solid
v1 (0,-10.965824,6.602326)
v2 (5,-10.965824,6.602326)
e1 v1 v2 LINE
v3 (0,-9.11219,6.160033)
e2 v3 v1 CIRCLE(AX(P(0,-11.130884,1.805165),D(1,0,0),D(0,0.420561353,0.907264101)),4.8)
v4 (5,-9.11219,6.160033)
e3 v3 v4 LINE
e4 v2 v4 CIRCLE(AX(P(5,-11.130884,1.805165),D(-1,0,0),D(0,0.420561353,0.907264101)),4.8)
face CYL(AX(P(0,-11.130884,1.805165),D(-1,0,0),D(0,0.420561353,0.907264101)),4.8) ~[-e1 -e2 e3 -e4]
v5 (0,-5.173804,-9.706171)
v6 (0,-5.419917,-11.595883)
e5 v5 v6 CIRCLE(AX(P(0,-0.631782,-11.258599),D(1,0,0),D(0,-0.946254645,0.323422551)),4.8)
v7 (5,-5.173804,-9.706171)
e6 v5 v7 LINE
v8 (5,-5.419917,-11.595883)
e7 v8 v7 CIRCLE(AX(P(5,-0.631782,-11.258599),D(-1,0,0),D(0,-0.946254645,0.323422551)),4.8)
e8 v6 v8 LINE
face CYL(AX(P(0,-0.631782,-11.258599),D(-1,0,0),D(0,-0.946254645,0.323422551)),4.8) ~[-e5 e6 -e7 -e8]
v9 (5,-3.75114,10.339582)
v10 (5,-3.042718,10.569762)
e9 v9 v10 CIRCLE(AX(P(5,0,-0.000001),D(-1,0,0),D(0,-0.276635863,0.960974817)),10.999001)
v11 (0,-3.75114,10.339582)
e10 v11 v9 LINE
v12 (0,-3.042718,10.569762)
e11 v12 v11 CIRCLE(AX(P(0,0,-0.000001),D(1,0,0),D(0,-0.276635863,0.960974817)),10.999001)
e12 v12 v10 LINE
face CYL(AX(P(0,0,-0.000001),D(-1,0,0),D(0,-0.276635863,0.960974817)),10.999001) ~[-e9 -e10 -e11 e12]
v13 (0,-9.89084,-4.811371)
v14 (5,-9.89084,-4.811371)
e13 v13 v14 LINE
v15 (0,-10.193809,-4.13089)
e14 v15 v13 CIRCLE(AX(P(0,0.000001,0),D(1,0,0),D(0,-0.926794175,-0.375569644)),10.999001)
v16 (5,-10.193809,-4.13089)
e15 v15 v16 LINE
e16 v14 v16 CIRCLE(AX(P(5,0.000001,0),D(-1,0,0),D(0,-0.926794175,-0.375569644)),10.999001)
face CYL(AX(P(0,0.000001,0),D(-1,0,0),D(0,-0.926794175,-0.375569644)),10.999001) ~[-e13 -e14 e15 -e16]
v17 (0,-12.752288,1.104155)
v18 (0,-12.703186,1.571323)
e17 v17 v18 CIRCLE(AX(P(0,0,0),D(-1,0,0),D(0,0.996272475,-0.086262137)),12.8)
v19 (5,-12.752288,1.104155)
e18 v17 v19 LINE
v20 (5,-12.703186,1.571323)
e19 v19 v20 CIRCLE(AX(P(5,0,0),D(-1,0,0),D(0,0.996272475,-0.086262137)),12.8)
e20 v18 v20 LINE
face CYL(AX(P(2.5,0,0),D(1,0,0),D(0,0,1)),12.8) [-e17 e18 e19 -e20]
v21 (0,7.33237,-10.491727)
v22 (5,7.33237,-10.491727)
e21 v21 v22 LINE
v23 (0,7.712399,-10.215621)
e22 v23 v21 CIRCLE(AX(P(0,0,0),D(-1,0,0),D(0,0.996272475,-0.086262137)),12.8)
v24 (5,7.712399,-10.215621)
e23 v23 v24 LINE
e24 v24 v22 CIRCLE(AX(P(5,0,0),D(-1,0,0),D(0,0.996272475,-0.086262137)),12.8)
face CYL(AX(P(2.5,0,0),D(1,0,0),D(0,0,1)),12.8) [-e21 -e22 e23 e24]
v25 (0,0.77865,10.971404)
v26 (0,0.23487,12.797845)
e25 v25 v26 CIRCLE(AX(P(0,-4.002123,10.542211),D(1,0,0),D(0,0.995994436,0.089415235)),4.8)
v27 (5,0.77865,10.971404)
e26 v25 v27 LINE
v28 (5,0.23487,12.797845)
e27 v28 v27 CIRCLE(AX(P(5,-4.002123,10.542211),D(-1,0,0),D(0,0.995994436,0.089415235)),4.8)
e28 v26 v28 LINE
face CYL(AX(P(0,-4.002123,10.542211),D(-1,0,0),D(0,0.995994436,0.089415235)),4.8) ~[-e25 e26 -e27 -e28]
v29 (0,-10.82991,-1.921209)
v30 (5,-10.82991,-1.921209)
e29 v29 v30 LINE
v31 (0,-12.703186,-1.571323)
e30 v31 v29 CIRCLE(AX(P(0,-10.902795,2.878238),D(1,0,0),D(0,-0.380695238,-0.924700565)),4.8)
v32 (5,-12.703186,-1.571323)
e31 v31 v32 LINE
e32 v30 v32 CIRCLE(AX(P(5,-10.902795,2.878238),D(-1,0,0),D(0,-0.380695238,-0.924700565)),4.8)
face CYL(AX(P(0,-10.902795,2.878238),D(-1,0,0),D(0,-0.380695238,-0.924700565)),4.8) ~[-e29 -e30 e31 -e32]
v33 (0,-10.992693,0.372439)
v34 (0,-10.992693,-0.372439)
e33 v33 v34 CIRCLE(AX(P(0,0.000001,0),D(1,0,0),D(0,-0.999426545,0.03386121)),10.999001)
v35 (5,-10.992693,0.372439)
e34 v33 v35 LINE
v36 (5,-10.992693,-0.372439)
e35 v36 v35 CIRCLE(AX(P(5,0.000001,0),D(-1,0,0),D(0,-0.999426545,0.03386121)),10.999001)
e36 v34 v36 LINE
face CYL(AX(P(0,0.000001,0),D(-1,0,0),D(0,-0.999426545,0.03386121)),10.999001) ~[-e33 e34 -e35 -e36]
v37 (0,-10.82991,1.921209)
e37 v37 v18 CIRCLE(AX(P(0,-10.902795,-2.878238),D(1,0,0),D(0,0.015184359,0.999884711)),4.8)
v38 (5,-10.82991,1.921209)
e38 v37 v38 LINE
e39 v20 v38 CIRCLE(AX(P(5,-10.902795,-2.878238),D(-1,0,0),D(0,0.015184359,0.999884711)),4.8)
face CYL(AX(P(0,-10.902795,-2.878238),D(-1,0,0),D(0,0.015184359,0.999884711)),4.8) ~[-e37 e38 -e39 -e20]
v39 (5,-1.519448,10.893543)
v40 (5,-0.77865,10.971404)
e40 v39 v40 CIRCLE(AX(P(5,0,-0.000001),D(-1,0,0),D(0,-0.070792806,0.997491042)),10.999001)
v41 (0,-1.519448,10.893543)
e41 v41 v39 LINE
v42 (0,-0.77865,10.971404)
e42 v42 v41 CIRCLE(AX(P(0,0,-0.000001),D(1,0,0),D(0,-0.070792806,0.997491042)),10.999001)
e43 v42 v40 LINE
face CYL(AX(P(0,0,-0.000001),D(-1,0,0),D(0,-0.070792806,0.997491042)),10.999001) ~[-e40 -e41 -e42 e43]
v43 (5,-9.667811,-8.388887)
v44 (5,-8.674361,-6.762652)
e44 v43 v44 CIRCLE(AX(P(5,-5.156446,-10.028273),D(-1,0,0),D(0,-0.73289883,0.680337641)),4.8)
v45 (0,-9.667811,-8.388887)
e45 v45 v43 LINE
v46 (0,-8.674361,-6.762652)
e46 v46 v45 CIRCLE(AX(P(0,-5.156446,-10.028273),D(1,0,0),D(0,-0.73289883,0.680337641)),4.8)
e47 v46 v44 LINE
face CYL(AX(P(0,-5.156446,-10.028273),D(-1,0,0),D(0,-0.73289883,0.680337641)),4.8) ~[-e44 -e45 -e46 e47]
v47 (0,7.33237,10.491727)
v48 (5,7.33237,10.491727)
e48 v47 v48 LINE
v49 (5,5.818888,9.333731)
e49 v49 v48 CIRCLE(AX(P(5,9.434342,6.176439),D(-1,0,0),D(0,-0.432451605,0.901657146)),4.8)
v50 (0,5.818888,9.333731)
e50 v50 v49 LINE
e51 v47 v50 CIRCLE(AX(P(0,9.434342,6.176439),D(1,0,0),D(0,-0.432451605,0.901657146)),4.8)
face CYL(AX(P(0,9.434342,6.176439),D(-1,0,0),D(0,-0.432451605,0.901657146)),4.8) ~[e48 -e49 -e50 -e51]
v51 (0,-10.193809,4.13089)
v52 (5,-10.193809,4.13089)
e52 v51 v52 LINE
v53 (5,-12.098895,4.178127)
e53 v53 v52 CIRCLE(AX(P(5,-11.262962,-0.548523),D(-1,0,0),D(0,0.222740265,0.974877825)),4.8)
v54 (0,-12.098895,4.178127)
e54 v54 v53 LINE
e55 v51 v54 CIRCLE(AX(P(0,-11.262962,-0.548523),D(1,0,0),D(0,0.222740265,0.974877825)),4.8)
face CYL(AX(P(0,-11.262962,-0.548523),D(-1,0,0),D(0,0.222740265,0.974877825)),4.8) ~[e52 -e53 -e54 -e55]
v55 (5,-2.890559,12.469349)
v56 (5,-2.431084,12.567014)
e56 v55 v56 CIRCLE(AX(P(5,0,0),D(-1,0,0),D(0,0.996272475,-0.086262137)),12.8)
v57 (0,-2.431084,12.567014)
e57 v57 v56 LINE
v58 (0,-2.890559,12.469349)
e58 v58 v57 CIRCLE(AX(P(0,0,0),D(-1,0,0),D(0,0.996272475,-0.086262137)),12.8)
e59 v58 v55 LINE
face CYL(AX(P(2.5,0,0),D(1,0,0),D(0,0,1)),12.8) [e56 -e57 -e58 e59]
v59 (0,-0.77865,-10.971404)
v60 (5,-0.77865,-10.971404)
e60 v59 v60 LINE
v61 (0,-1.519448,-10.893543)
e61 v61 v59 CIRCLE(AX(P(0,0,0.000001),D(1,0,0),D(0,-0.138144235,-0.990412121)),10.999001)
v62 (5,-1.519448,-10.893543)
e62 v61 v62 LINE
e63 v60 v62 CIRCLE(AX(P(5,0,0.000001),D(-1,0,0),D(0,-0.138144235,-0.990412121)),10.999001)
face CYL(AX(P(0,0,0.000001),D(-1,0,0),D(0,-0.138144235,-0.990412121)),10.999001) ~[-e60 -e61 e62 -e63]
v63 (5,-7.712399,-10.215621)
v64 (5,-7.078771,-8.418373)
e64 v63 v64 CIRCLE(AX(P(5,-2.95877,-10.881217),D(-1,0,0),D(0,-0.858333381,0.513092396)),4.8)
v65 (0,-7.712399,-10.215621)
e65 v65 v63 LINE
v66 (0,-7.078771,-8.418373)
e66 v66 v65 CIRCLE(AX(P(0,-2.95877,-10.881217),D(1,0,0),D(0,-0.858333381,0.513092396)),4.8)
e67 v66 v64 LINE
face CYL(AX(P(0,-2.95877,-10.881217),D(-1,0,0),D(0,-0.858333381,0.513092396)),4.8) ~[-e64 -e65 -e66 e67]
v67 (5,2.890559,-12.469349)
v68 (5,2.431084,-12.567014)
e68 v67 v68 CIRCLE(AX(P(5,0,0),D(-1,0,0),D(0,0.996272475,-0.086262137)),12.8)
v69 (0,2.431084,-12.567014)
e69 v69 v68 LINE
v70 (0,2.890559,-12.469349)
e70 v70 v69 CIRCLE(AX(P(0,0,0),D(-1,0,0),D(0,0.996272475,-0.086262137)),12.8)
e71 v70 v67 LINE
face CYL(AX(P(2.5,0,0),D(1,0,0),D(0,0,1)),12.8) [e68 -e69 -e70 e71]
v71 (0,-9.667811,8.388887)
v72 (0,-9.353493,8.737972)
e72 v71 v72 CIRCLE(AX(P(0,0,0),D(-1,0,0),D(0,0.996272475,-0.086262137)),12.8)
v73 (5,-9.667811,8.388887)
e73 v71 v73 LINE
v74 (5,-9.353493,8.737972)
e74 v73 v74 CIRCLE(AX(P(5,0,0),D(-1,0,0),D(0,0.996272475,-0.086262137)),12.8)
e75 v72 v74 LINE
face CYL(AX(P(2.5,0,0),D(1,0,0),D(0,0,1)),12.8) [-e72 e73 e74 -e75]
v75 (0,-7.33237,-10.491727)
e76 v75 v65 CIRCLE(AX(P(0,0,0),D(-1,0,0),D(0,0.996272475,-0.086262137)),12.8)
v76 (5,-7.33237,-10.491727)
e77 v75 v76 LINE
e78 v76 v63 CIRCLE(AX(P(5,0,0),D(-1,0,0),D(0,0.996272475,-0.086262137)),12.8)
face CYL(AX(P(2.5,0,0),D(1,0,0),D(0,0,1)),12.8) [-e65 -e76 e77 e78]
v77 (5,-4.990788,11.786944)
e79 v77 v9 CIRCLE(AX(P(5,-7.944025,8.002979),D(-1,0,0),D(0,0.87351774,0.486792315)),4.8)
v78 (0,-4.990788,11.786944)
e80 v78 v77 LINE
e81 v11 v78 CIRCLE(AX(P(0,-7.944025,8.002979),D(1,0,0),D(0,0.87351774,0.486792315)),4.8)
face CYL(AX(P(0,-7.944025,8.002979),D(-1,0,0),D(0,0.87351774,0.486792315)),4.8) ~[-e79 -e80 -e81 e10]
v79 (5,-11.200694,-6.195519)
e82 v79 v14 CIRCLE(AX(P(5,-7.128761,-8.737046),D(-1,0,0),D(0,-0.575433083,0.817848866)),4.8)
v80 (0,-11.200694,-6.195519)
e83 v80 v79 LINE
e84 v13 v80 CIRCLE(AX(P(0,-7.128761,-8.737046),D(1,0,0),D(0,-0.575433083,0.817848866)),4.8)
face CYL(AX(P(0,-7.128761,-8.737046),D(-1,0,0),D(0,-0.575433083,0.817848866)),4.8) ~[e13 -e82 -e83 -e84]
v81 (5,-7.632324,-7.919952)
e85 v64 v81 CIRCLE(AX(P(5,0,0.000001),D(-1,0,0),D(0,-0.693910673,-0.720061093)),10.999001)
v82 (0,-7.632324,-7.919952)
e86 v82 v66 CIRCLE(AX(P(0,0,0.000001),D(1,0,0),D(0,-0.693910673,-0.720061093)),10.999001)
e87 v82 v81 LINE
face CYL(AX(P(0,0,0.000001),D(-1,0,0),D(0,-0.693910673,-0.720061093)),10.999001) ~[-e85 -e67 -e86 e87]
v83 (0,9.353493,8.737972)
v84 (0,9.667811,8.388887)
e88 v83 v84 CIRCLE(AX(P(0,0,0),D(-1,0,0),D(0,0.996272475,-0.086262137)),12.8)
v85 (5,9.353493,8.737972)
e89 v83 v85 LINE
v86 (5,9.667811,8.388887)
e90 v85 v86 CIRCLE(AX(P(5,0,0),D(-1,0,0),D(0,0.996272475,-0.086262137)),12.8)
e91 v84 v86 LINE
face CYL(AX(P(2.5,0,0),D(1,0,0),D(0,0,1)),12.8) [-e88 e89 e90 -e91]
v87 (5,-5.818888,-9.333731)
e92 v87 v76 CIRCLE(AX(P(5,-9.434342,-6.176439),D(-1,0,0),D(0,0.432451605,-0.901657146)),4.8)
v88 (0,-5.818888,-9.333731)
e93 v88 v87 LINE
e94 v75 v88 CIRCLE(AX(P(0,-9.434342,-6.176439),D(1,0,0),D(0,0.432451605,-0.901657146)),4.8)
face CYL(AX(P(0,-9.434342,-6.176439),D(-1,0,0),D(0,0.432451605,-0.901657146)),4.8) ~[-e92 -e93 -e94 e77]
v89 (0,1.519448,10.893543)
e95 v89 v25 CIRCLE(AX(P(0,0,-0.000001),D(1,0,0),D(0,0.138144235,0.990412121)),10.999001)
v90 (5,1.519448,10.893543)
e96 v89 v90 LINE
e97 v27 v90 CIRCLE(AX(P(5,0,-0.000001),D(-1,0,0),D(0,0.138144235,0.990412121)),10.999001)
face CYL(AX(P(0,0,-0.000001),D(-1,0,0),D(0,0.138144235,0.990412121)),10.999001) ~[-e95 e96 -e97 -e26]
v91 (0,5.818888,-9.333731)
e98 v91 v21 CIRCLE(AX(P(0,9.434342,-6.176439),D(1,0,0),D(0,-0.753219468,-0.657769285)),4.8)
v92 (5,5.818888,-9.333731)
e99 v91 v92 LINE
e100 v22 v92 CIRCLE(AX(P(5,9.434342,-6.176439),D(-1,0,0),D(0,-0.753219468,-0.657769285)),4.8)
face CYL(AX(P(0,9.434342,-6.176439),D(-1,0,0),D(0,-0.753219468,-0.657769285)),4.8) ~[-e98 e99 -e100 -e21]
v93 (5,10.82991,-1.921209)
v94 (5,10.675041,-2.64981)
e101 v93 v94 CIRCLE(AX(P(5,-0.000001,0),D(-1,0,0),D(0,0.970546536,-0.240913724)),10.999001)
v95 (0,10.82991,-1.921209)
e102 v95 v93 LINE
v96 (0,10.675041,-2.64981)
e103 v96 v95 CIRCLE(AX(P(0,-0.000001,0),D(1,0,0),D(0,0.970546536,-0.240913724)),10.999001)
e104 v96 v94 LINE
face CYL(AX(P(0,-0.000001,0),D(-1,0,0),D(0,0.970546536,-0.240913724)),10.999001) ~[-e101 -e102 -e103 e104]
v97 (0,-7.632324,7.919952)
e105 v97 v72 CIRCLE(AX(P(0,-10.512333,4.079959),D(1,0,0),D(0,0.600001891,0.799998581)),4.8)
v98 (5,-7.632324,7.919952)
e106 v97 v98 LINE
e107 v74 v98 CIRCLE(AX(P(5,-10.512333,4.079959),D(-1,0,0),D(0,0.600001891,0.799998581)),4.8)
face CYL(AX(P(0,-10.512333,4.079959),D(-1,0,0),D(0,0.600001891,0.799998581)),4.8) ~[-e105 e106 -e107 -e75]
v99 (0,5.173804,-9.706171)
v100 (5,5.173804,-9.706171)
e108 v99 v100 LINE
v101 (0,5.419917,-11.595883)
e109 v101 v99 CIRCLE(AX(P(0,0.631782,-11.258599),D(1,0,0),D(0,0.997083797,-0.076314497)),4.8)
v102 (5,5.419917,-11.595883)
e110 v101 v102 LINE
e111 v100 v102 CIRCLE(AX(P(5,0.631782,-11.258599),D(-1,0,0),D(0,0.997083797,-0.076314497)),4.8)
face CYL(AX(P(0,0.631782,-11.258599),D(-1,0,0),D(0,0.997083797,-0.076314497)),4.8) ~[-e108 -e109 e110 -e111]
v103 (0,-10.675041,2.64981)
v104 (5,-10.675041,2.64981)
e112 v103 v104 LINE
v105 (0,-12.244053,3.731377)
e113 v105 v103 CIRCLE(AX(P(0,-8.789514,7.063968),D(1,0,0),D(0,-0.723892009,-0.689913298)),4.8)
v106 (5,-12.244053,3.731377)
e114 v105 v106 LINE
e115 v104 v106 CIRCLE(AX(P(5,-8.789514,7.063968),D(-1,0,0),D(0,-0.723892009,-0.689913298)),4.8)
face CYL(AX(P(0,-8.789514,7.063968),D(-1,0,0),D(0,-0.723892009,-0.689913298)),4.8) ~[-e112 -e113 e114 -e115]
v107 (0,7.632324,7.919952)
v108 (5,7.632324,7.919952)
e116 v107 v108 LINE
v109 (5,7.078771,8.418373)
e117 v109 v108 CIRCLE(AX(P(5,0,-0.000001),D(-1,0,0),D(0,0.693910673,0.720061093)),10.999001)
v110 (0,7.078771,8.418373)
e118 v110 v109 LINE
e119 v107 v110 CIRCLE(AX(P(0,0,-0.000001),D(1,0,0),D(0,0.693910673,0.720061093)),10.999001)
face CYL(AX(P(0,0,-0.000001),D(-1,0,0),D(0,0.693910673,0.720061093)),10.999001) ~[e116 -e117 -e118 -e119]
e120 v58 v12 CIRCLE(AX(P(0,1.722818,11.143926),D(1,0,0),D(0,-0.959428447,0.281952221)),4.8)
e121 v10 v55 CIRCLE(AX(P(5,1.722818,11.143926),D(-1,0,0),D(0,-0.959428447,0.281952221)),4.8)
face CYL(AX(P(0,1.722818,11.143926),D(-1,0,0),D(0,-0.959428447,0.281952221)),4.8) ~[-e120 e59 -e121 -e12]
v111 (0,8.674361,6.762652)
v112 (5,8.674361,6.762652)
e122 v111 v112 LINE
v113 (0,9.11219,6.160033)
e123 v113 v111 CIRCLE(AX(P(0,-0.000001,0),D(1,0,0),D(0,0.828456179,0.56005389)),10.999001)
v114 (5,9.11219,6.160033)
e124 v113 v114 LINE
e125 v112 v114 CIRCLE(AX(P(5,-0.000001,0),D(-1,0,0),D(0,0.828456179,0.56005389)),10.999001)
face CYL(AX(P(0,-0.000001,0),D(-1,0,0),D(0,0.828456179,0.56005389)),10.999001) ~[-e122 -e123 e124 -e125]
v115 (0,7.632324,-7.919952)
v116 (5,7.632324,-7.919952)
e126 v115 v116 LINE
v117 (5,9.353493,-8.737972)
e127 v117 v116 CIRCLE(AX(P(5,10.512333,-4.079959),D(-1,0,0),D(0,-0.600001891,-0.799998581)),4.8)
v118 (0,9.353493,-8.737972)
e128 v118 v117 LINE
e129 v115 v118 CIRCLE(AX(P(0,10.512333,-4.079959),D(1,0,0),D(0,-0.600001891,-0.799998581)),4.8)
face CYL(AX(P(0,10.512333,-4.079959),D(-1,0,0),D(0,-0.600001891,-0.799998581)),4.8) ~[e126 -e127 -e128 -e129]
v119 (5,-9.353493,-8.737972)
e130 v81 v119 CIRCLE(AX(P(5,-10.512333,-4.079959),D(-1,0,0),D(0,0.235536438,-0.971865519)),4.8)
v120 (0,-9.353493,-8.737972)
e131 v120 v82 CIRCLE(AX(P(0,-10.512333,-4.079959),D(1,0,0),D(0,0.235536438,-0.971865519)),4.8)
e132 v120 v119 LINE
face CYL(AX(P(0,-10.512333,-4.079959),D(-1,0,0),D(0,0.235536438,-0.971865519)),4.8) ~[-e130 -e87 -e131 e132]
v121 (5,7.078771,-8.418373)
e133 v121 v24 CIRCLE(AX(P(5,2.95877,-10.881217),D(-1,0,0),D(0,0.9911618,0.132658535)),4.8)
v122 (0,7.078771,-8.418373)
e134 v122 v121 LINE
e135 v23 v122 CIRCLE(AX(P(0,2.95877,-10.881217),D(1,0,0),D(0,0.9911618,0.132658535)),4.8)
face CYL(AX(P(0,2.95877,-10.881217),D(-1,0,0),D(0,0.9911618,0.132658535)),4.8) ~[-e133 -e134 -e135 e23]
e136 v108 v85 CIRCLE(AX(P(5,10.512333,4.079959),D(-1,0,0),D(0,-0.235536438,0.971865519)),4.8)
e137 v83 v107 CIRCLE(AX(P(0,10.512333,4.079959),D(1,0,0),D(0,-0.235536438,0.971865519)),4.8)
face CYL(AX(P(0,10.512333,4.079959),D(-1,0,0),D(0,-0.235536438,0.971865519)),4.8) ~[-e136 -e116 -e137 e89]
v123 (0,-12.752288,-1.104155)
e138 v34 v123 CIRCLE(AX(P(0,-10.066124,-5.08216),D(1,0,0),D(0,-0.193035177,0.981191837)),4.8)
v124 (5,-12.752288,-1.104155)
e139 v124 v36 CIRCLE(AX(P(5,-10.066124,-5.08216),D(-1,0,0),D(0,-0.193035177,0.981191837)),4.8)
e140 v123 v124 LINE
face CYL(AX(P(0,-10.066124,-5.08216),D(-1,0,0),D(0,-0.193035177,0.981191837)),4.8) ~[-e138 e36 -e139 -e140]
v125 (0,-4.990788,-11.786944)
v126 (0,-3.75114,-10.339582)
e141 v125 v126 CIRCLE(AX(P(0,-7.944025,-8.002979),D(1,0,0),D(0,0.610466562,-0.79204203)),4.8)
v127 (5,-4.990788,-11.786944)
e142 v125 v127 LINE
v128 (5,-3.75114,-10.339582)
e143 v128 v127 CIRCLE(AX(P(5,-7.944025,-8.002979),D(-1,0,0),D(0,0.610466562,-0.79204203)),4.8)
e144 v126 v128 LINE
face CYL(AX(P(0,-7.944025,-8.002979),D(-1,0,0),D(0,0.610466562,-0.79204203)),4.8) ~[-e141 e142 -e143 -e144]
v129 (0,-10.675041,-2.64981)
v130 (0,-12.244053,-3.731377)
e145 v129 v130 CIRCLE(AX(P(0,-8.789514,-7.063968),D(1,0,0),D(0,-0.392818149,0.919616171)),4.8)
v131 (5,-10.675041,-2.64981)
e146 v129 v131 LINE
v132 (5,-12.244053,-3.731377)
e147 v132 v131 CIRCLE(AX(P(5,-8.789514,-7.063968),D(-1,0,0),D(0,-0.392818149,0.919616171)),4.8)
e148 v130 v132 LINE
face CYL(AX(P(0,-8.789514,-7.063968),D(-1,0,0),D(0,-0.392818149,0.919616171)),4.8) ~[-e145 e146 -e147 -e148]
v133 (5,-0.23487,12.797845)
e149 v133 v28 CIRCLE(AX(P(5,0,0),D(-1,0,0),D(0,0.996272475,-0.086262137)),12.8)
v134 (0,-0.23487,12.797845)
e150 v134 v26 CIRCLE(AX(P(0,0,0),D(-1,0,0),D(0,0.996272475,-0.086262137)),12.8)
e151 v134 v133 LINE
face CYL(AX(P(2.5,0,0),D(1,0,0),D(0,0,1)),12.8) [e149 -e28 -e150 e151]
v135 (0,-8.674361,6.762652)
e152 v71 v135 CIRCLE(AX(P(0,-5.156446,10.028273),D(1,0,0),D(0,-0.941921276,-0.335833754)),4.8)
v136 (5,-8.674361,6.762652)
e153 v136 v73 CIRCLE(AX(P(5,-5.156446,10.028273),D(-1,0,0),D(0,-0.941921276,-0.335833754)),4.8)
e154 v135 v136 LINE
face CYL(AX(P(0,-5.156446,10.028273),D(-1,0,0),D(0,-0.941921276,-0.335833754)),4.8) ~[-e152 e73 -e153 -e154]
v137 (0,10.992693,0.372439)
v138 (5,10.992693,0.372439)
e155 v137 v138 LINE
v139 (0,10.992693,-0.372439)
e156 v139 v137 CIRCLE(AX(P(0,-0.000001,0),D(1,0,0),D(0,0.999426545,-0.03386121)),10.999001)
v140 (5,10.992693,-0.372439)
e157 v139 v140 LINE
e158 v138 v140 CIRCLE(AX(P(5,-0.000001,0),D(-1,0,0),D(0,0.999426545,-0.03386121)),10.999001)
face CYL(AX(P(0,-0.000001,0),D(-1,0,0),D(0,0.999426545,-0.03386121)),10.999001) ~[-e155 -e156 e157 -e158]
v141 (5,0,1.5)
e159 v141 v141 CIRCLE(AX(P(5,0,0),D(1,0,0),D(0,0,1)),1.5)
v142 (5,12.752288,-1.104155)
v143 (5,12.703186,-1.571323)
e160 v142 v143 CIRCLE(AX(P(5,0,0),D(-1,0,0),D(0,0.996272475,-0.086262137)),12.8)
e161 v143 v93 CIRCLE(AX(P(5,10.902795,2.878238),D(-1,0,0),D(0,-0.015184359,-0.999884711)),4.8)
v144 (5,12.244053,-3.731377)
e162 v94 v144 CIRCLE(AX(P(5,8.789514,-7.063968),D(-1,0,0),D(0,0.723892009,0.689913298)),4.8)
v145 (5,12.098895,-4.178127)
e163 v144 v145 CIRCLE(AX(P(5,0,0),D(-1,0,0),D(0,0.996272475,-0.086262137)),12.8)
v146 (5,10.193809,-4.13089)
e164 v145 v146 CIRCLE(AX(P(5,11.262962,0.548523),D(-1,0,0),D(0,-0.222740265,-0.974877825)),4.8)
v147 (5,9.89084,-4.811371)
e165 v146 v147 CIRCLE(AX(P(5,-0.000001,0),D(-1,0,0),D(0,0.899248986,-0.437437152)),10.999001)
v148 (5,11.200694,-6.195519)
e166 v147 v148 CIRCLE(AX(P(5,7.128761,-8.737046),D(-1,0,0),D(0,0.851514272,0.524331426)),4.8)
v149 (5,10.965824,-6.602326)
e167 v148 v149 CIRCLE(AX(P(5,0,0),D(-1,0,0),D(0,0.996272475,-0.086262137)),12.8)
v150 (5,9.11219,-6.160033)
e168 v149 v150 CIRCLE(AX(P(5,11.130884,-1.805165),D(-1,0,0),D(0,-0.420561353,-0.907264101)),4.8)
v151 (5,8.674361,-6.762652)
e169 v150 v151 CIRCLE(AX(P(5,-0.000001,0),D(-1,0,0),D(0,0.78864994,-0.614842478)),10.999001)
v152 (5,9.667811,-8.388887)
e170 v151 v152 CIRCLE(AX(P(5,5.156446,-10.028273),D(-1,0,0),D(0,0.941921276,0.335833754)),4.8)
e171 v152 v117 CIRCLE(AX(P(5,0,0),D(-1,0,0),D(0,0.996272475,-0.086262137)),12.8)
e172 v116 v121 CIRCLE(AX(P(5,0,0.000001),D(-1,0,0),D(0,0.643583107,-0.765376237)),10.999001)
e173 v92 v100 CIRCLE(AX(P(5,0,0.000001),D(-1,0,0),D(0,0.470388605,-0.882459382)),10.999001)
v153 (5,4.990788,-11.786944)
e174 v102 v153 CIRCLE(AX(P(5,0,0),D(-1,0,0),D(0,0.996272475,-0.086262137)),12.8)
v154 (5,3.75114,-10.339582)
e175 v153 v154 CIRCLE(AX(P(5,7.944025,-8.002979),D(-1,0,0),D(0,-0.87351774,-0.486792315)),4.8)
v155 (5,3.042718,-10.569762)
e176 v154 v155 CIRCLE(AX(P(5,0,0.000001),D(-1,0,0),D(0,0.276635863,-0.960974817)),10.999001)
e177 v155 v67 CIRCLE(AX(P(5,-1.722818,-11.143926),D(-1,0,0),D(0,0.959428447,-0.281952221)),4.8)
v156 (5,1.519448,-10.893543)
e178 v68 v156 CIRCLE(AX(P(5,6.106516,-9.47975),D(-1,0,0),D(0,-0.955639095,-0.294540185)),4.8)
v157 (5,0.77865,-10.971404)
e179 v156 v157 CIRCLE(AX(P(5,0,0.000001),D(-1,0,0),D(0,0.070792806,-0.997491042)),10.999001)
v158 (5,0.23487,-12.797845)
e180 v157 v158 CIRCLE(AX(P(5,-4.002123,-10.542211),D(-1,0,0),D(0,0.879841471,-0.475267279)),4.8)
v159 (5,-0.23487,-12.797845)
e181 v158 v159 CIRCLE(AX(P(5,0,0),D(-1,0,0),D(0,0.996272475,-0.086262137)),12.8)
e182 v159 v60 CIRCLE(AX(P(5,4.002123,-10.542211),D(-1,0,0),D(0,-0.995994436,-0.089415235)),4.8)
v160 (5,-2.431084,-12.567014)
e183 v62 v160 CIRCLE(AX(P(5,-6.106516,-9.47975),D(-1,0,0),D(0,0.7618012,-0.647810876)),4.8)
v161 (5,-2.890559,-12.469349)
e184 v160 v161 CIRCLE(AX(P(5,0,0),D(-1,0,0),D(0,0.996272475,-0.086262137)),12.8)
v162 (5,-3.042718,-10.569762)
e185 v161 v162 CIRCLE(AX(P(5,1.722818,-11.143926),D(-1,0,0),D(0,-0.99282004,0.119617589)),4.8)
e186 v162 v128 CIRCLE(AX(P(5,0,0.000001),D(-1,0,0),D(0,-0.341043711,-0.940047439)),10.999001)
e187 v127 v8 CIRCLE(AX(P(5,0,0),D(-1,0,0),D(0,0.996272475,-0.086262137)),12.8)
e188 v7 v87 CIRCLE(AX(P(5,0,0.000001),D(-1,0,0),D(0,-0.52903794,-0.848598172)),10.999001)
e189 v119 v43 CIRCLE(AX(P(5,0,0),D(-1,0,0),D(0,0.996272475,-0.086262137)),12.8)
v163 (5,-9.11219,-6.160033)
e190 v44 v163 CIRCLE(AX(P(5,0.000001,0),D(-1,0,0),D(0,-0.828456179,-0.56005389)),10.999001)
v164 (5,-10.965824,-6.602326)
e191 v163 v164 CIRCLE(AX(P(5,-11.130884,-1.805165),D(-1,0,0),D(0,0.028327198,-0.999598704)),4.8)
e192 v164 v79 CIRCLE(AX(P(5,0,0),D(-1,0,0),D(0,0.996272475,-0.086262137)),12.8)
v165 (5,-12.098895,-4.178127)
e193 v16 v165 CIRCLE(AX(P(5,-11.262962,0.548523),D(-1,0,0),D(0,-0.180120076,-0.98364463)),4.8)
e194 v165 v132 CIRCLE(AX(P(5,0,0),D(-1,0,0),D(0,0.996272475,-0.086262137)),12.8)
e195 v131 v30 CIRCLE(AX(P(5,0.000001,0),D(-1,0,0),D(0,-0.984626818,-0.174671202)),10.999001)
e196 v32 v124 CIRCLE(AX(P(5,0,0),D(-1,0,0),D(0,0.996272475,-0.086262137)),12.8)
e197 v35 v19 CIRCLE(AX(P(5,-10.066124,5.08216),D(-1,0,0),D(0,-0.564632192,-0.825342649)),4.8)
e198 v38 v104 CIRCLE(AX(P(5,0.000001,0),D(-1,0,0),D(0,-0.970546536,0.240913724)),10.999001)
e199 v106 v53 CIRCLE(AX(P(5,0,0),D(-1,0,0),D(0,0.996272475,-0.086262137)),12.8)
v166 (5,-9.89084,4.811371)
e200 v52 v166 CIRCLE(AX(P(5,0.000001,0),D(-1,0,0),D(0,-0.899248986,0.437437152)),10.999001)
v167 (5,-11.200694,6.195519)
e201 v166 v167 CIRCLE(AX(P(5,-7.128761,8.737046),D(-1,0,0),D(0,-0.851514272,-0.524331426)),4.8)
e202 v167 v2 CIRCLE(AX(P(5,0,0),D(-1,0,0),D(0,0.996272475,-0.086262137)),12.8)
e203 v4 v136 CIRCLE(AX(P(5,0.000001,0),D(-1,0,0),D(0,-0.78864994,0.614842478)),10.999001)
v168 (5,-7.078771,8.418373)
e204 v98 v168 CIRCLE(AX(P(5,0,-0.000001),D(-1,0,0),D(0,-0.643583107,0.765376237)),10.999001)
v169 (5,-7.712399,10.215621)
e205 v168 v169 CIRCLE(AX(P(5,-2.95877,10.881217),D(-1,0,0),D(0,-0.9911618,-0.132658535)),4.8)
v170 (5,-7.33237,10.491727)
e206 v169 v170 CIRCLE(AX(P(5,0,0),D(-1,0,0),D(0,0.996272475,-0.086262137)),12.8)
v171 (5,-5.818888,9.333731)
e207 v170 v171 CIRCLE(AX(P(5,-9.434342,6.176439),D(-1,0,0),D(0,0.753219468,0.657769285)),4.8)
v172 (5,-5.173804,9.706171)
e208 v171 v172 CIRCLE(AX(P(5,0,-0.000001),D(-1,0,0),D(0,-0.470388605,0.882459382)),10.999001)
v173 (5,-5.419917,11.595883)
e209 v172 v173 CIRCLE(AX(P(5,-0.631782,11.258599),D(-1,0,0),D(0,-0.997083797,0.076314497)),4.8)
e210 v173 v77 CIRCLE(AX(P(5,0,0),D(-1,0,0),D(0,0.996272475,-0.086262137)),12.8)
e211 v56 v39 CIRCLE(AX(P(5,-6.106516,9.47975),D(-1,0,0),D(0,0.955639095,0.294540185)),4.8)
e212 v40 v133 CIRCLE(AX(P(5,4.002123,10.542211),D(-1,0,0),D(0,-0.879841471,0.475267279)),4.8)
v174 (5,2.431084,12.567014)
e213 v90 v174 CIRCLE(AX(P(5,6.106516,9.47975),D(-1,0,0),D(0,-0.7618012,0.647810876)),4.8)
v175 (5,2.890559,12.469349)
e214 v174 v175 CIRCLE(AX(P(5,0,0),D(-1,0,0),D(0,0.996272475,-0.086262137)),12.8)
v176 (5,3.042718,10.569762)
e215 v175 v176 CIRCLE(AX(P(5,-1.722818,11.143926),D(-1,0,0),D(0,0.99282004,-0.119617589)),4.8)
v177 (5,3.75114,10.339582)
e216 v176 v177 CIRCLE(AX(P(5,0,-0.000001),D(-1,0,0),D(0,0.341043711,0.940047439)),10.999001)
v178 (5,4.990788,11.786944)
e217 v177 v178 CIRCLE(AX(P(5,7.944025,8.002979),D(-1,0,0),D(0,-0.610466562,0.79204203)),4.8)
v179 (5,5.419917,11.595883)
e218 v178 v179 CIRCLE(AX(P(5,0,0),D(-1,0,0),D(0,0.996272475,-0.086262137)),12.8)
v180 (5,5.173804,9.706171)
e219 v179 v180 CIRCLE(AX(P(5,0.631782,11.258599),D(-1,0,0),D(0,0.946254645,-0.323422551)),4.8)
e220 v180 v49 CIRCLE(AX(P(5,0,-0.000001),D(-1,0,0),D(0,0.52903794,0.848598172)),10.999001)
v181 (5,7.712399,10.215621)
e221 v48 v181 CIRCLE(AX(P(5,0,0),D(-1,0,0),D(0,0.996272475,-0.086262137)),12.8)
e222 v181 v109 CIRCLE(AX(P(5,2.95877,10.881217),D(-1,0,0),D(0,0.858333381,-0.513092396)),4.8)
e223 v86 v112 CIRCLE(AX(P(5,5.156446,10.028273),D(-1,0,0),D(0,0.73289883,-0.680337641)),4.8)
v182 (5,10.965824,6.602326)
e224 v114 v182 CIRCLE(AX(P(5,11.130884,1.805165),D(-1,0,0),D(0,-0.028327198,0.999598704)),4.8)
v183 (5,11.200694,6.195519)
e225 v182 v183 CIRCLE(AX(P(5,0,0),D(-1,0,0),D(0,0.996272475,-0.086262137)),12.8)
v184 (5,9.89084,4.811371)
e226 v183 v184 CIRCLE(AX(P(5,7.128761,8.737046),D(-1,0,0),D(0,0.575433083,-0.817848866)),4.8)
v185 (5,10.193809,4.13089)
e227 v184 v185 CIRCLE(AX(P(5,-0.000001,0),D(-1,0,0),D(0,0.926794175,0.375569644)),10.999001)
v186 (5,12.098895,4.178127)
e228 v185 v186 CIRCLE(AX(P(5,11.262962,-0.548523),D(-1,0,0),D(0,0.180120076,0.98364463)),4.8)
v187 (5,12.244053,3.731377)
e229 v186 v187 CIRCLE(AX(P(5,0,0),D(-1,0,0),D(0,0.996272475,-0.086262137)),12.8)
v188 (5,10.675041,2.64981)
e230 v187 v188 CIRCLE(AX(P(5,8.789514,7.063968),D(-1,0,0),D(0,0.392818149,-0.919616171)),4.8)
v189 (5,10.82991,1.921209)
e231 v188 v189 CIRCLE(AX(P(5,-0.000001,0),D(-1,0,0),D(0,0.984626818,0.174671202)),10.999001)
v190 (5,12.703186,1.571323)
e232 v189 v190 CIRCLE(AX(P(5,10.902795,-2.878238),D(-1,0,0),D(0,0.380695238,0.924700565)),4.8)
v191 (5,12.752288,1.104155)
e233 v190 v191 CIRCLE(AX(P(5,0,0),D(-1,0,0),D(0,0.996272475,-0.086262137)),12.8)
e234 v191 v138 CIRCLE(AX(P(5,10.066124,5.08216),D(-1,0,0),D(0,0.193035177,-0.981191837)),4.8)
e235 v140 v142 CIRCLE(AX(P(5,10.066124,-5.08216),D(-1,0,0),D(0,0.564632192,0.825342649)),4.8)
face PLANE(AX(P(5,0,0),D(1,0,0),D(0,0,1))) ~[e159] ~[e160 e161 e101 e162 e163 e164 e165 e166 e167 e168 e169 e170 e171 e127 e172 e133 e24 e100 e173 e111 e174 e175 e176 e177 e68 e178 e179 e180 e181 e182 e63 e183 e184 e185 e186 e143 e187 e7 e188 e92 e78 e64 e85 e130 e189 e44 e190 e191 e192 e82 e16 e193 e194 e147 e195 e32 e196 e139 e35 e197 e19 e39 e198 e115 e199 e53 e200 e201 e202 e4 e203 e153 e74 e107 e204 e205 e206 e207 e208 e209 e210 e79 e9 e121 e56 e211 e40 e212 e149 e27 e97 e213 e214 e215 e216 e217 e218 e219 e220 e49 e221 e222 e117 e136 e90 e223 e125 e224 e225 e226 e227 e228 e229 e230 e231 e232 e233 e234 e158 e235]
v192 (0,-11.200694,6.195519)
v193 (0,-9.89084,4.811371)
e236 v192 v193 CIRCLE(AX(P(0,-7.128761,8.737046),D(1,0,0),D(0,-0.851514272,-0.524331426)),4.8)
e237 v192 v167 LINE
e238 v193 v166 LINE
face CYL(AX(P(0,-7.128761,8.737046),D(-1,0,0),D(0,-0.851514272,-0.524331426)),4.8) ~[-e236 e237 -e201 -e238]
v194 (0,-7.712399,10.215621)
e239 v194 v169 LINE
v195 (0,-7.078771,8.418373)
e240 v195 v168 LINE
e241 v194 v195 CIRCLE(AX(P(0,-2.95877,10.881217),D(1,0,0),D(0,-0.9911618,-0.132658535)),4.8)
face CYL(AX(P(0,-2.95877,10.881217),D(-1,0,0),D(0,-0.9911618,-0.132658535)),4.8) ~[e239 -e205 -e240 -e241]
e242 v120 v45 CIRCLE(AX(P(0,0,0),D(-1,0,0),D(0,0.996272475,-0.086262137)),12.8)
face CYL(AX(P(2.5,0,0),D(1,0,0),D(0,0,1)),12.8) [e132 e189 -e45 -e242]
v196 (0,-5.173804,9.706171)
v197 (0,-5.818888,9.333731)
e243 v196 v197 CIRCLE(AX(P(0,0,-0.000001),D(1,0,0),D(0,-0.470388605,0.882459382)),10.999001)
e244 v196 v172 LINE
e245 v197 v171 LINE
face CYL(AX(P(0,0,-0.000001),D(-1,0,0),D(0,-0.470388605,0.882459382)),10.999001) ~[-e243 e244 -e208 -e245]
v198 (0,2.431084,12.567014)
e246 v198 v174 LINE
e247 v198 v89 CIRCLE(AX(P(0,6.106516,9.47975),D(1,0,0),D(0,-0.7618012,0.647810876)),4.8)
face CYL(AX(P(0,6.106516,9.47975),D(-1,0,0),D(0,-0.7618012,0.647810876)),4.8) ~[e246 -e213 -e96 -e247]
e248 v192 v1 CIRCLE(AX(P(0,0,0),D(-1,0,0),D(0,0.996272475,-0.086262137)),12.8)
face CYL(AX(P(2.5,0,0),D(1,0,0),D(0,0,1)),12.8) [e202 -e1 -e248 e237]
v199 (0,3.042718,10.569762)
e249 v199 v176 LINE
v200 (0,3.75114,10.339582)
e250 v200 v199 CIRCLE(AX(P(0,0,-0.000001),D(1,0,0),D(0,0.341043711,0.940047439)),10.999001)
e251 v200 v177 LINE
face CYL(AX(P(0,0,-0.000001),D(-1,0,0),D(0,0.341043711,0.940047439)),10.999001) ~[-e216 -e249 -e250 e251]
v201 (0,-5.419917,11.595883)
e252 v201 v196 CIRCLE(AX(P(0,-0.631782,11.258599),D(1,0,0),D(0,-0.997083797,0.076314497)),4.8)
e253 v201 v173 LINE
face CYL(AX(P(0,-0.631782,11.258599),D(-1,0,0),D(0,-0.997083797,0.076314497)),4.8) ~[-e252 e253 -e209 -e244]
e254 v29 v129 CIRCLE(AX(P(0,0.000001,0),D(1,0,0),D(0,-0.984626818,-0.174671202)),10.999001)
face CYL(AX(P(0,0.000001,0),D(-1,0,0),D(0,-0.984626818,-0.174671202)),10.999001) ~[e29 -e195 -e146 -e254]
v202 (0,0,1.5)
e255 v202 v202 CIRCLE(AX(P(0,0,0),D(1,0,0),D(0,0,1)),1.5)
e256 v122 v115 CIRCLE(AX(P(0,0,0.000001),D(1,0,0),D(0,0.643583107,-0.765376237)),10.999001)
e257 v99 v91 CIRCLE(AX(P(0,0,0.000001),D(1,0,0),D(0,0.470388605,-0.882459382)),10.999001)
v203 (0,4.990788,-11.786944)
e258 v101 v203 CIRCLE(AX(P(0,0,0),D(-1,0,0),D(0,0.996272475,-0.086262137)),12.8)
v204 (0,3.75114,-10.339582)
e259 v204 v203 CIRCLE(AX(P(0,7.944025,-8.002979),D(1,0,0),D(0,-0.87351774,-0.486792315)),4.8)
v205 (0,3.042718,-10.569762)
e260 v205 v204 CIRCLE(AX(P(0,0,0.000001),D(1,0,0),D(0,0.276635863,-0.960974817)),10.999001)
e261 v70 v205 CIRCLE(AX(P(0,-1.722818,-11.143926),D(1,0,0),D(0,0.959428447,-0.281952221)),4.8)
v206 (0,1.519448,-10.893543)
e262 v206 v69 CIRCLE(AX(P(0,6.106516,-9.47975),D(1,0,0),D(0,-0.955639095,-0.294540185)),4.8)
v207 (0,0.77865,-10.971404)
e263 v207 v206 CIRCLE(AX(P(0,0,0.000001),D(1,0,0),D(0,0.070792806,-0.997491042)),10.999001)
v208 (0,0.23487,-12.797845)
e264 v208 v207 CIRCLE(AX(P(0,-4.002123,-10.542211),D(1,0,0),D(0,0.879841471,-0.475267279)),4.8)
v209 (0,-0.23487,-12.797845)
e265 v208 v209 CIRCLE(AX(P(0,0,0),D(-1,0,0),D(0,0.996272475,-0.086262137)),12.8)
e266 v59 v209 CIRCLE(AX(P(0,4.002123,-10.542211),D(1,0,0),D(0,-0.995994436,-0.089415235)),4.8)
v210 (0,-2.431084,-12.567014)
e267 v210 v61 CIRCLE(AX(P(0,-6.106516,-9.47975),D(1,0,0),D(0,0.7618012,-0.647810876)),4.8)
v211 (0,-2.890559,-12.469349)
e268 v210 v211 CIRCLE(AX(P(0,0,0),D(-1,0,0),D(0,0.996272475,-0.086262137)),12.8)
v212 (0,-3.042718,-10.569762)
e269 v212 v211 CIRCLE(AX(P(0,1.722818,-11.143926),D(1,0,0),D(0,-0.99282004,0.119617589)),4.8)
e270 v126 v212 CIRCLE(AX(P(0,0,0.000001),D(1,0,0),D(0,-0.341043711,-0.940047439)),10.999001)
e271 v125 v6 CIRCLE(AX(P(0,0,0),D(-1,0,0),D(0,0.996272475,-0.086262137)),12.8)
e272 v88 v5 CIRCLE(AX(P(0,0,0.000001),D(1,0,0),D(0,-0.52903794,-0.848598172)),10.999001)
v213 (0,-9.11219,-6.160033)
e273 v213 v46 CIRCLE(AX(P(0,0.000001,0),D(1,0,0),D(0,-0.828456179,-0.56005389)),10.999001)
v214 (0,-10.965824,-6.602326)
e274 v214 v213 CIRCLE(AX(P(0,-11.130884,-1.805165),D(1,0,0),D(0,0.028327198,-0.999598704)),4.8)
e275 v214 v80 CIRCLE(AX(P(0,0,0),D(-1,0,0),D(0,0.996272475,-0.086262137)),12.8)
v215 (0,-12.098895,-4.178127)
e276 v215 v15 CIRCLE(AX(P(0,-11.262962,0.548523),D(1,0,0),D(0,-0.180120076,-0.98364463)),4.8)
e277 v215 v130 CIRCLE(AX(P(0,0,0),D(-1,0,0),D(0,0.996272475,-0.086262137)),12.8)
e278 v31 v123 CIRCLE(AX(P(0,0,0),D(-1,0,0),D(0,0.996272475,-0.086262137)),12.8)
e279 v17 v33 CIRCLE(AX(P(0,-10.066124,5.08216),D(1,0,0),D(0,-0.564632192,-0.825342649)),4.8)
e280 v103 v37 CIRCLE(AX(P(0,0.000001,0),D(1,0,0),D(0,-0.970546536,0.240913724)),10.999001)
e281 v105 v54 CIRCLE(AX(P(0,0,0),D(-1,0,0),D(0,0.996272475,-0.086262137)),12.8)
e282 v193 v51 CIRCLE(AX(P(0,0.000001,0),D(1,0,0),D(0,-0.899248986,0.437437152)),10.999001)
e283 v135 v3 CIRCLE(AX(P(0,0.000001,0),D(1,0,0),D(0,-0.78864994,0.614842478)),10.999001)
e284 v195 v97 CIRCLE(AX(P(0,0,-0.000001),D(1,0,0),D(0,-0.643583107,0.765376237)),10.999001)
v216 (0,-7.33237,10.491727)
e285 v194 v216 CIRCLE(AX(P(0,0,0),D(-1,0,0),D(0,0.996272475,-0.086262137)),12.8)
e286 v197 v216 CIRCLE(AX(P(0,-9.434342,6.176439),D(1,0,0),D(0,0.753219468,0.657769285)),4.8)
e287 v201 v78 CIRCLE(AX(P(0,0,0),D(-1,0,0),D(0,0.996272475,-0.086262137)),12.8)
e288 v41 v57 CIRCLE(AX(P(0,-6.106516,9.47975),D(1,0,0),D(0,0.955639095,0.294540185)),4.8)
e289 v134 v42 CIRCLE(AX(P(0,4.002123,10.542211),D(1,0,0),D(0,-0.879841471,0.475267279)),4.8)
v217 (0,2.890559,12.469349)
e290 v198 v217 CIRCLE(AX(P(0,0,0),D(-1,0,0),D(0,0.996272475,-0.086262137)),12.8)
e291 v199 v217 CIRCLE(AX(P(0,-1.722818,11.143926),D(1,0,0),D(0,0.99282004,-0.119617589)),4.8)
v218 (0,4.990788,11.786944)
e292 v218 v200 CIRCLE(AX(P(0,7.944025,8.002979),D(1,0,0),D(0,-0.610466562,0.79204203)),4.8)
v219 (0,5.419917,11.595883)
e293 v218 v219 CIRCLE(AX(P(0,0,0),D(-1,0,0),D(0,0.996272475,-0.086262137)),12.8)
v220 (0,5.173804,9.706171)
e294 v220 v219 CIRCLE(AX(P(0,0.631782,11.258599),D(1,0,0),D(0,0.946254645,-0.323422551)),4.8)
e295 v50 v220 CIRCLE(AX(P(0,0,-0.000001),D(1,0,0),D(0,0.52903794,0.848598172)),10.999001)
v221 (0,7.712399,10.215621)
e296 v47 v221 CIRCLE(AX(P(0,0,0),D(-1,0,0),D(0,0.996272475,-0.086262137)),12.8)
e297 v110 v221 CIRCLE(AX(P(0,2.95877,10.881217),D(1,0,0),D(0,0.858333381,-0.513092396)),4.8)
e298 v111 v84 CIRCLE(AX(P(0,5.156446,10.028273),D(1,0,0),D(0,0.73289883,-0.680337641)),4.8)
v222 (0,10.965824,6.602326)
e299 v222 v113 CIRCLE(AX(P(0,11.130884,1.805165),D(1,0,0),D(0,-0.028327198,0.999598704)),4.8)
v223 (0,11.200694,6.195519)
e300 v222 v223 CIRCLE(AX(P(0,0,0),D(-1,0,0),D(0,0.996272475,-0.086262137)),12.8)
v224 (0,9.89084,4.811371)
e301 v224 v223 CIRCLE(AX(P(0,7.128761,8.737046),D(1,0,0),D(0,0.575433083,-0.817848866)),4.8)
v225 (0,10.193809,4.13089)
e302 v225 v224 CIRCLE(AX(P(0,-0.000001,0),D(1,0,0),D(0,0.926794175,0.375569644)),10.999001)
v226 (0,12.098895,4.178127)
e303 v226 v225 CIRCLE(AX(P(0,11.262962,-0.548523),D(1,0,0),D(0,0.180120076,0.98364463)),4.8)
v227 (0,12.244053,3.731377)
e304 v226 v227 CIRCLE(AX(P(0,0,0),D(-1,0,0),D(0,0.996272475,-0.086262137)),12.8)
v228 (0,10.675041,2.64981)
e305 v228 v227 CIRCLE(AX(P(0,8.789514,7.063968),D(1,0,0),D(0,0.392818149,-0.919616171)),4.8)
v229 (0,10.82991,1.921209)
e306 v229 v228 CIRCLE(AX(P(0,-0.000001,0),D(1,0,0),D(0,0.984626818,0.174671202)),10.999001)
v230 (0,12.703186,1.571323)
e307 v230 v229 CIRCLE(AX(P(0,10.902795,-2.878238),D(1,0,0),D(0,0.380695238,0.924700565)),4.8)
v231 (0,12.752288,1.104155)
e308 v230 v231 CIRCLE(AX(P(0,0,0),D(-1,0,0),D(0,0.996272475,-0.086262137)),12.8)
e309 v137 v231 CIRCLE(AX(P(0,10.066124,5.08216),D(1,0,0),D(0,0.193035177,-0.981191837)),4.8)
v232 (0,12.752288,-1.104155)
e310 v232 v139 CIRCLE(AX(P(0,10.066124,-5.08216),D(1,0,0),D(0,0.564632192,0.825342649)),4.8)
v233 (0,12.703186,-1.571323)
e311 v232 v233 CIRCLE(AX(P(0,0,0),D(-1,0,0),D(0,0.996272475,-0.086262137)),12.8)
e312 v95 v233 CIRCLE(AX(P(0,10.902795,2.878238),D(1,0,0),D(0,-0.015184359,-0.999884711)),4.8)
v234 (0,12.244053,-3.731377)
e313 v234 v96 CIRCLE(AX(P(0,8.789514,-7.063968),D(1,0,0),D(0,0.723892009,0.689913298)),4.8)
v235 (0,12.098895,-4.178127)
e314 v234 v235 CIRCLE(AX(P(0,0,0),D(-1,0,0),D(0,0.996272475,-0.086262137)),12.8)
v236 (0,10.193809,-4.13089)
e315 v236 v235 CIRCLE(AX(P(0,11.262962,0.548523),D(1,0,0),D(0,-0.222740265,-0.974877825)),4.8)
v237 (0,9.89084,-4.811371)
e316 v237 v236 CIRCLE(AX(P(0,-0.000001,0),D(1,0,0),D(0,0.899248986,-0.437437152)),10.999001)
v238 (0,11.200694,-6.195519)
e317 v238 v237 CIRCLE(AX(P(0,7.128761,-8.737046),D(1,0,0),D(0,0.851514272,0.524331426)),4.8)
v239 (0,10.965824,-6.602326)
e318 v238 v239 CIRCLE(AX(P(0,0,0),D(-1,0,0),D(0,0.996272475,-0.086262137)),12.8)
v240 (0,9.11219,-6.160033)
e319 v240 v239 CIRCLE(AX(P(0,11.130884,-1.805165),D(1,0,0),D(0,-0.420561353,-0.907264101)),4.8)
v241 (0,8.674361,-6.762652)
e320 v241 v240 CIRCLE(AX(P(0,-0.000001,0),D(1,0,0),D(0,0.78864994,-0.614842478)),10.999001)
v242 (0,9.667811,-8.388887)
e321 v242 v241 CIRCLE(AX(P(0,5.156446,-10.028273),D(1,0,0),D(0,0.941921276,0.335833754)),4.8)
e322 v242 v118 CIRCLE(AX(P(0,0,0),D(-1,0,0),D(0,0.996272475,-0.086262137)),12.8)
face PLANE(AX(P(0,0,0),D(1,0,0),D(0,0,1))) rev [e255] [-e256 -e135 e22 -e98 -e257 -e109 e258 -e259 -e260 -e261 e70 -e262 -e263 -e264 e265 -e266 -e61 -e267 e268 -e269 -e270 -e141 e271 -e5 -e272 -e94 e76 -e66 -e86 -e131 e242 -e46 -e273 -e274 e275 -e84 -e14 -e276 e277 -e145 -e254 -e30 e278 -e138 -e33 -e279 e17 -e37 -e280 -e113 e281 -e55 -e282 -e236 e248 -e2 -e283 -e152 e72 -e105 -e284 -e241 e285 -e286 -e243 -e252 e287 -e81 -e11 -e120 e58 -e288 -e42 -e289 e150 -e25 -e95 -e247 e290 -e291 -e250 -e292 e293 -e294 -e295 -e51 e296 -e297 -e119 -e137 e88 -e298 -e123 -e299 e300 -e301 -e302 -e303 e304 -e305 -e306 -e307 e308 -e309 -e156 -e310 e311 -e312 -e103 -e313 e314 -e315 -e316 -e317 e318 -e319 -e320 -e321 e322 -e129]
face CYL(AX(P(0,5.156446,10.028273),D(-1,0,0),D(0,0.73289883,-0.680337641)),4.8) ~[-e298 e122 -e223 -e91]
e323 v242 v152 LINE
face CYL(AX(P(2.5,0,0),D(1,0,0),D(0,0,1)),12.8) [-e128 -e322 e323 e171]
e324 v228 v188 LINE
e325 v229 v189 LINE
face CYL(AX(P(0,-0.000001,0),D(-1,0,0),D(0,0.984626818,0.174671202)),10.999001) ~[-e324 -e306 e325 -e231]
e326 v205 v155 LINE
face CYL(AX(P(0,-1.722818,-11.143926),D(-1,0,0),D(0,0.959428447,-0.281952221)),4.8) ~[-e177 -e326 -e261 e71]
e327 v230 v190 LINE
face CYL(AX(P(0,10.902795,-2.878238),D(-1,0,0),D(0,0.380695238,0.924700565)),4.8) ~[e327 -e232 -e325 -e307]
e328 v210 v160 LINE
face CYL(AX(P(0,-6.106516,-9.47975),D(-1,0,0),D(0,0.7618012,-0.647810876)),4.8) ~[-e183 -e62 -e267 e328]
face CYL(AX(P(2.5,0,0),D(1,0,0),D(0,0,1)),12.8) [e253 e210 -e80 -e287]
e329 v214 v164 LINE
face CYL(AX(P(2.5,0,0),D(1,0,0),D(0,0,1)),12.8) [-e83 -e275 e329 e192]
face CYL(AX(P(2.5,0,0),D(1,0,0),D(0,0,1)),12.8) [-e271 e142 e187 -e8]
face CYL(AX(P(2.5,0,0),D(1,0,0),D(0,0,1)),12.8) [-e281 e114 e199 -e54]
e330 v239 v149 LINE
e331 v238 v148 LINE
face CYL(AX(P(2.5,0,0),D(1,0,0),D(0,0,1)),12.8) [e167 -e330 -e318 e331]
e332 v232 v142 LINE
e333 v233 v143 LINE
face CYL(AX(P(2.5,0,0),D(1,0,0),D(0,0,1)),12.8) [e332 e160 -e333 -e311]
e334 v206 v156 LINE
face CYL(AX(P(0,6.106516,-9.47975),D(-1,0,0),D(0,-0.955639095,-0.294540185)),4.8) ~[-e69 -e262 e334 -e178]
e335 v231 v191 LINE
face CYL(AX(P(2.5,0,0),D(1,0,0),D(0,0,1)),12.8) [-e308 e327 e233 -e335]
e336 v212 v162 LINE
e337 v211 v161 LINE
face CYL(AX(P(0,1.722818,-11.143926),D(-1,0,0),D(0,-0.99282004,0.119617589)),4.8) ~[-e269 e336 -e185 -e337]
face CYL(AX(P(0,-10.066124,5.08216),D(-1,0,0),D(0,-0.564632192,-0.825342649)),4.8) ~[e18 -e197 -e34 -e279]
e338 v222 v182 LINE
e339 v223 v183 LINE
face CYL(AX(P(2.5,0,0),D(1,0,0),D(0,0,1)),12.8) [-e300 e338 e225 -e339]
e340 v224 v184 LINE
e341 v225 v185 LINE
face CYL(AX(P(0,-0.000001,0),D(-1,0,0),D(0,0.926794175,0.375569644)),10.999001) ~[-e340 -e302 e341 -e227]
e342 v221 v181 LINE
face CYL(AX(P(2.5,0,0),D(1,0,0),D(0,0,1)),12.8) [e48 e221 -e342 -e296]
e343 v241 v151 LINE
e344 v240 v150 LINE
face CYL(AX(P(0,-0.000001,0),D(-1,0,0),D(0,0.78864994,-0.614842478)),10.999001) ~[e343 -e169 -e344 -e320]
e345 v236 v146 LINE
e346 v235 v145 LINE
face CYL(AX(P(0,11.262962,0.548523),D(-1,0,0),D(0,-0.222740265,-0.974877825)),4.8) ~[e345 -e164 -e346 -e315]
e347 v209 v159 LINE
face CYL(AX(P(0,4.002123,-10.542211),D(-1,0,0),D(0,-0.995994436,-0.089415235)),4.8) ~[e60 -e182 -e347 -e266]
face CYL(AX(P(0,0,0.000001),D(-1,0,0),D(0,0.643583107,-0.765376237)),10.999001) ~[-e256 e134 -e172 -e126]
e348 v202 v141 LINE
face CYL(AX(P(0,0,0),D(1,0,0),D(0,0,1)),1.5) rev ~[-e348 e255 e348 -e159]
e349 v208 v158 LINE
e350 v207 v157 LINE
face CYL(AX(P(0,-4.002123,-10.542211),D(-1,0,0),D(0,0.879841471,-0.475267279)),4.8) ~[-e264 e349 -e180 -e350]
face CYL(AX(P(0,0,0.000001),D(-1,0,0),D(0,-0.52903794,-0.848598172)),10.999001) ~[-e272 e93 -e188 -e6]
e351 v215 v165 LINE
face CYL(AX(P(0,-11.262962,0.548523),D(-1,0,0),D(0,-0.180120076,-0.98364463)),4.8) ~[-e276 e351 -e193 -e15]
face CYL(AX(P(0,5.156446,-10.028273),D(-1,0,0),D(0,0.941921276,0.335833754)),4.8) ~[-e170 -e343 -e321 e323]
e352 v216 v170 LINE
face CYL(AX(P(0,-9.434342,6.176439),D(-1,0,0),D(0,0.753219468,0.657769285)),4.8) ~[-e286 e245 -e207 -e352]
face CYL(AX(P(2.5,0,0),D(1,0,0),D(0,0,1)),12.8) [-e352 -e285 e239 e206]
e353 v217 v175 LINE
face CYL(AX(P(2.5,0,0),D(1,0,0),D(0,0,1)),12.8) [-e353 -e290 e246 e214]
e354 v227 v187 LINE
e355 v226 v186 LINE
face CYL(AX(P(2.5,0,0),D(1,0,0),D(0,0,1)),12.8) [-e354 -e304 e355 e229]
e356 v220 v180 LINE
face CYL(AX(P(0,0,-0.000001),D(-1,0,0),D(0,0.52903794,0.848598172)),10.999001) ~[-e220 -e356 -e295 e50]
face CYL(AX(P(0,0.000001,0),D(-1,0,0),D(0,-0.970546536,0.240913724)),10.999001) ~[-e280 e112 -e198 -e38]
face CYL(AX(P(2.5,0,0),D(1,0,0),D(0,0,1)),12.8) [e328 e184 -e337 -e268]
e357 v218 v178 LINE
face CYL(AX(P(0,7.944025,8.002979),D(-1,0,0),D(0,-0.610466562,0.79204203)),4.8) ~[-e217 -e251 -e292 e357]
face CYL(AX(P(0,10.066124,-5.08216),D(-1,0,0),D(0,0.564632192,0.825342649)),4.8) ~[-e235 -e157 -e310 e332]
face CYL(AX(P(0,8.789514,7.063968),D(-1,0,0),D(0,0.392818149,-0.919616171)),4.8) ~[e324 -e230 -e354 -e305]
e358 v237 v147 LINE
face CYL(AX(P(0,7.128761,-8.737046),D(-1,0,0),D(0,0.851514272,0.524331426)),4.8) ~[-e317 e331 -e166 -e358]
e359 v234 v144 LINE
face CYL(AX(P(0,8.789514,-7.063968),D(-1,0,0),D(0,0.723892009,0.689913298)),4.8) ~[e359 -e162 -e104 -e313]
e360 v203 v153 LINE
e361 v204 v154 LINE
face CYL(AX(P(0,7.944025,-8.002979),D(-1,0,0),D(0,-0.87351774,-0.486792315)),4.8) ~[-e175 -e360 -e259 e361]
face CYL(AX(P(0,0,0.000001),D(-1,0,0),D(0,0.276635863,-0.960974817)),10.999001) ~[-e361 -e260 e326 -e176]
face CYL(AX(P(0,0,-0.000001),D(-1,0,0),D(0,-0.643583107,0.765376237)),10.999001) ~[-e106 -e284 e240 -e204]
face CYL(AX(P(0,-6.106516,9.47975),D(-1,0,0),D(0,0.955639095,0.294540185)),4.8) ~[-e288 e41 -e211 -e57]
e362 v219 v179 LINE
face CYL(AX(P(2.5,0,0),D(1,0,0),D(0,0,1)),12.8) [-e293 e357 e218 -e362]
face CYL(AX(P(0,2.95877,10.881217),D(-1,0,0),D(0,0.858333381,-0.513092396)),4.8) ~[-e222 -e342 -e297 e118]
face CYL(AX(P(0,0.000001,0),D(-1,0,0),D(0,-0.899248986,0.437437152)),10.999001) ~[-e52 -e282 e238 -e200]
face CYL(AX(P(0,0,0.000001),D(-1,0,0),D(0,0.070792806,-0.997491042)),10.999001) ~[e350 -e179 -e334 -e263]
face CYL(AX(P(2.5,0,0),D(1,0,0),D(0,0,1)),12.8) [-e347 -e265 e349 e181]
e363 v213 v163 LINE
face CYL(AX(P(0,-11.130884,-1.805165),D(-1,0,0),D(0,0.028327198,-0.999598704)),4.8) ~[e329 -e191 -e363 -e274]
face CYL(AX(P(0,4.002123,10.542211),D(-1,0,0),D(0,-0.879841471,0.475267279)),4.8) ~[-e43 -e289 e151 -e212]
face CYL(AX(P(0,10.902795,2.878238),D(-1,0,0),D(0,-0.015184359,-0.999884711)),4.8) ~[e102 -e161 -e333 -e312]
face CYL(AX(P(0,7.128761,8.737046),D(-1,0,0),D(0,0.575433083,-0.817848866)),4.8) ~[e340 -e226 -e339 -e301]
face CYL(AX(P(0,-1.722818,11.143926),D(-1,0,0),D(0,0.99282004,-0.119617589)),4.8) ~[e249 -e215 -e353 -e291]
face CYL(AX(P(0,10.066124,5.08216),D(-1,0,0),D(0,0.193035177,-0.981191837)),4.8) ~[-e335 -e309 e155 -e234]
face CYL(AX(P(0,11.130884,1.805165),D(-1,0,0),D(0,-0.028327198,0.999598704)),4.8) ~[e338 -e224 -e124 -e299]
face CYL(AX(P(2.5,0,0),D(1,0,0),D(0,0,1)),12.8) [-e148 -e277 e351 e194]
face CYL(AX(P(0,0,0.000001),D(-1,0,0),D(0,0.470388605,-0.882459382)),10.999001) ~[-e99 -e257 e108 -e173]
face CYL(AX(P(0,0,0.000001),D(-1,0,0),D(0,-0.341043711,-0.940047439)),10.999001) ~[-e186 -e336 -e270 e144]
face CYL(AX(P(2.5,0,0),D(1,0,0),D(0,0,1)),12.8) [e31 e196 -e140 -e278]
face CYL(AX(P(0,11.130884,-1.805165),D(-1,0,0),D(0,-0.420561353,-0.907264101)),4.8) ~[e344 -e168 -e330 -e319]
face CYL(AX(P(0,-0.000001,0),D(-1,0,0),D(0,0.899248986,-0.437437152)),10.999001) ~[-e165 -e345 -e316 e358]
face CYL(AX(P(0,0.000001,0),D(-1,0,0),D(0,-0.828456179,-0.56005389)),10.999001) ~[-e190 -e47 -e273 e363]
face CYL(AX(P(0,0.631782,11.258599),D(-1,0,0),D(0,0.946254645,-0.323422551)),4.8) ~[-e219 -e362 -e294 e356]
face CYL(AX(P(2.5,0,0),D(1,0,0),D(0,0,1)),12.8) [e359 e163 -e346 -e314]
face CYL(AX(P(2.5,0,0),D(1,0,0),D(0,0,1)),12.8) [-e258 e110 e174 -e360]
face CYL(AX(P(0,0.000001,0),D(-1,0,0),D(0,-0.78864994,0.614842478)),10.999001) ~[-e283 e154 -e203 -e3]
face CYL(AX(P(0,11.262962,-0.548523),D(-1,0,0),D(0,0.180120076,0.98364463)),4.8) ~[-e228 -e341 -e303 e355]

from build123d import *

# Parameters (mm, degrees)
BASPROSKE_W     = 5
BASPROSKE_H     = 12.8
TOOTHCUT_DEPTH  = 19.779776356
TEETHCUTS_COUNT = 30
TEETHCUTS_ANGLE = 348
BORSKE_R        = 1.5
BORE_DEPTH      = 50.0000508


with BuildPart() as part:
    # BasProSke → Base-Revolve (revolve)
    with BuildSketch(Plane(origin=(0, 0, 0), x_dir=(1, 0, 0), z_dir=(0, 1, 0)), mode=Mode.PRIVATE) as base_revolve_sk:
        with Locations((2.5, 6.4)):
            Rectangle(BASPROSKE_W, BASPROSKE_H)
    revolve(base_revolve_sk.sketch.rotate(Axis((-10, 0, 0), (1, 0, 0)), 180), axis=Axis((-10, 0, 0), (1, 0, 0)))

    # TooCutSke → ToothCut (cut, through all)
    with BuildSketch(Plane(origin=(0, 0, 0), x_dir=(0, 0, -1), z_dir=(1, 0, 0))):
        with BuildLine():
            ThreePointArc((0.37243947, 10.992692566), (0, 10.999), (-0.37243947, 10.992692566))
            ThreePointArc((-0.37243947, 10.992692566), (-0.655704499, 11.922595954), (-1.120515575, 12.776358245))
            ThreePointArc((-1.120515575, 12.776358245), (0, 12.8254), (1.120515575, 12.776358245))
            ThreePointArc((1.120515575, 12.776358245), (0.655704499, 11.922595954), (0.37243947, 10.992692566))
        make_face()
    toothcut = extrude(amount=TOOTHCUT_DEPTH, mode=Mode.SUBTRACT)

    # TeethCuts: ToothCut ×30 about axis
    teethcuts_axis = Axis((-10, 0, 0), (1, 0, 0))
    for i in range(1, TEETHCUTS_COUNT):
        add(toothcut.rotate(teethcuts_axis, i * TEETHCUTS_ANGLE / (TEETHCUTS_COUNT - 1)), mode=Mode.SUBTRACT)

    # BorSke → Bore (cut, symmetric)
    with BuildSketch(Plane(origin=(0, 0, 0), x_dir=(0, 0, -1), z_dir=(1, 0, 0))):
        with Locations(Location((0, 0, 0), (0, 0, 180))):
            Circle(BORSKE_R)
    extrude(amount=BORE_DEPTH, both=True, mode=Mode.SUBTRACT)


solid = part.part
